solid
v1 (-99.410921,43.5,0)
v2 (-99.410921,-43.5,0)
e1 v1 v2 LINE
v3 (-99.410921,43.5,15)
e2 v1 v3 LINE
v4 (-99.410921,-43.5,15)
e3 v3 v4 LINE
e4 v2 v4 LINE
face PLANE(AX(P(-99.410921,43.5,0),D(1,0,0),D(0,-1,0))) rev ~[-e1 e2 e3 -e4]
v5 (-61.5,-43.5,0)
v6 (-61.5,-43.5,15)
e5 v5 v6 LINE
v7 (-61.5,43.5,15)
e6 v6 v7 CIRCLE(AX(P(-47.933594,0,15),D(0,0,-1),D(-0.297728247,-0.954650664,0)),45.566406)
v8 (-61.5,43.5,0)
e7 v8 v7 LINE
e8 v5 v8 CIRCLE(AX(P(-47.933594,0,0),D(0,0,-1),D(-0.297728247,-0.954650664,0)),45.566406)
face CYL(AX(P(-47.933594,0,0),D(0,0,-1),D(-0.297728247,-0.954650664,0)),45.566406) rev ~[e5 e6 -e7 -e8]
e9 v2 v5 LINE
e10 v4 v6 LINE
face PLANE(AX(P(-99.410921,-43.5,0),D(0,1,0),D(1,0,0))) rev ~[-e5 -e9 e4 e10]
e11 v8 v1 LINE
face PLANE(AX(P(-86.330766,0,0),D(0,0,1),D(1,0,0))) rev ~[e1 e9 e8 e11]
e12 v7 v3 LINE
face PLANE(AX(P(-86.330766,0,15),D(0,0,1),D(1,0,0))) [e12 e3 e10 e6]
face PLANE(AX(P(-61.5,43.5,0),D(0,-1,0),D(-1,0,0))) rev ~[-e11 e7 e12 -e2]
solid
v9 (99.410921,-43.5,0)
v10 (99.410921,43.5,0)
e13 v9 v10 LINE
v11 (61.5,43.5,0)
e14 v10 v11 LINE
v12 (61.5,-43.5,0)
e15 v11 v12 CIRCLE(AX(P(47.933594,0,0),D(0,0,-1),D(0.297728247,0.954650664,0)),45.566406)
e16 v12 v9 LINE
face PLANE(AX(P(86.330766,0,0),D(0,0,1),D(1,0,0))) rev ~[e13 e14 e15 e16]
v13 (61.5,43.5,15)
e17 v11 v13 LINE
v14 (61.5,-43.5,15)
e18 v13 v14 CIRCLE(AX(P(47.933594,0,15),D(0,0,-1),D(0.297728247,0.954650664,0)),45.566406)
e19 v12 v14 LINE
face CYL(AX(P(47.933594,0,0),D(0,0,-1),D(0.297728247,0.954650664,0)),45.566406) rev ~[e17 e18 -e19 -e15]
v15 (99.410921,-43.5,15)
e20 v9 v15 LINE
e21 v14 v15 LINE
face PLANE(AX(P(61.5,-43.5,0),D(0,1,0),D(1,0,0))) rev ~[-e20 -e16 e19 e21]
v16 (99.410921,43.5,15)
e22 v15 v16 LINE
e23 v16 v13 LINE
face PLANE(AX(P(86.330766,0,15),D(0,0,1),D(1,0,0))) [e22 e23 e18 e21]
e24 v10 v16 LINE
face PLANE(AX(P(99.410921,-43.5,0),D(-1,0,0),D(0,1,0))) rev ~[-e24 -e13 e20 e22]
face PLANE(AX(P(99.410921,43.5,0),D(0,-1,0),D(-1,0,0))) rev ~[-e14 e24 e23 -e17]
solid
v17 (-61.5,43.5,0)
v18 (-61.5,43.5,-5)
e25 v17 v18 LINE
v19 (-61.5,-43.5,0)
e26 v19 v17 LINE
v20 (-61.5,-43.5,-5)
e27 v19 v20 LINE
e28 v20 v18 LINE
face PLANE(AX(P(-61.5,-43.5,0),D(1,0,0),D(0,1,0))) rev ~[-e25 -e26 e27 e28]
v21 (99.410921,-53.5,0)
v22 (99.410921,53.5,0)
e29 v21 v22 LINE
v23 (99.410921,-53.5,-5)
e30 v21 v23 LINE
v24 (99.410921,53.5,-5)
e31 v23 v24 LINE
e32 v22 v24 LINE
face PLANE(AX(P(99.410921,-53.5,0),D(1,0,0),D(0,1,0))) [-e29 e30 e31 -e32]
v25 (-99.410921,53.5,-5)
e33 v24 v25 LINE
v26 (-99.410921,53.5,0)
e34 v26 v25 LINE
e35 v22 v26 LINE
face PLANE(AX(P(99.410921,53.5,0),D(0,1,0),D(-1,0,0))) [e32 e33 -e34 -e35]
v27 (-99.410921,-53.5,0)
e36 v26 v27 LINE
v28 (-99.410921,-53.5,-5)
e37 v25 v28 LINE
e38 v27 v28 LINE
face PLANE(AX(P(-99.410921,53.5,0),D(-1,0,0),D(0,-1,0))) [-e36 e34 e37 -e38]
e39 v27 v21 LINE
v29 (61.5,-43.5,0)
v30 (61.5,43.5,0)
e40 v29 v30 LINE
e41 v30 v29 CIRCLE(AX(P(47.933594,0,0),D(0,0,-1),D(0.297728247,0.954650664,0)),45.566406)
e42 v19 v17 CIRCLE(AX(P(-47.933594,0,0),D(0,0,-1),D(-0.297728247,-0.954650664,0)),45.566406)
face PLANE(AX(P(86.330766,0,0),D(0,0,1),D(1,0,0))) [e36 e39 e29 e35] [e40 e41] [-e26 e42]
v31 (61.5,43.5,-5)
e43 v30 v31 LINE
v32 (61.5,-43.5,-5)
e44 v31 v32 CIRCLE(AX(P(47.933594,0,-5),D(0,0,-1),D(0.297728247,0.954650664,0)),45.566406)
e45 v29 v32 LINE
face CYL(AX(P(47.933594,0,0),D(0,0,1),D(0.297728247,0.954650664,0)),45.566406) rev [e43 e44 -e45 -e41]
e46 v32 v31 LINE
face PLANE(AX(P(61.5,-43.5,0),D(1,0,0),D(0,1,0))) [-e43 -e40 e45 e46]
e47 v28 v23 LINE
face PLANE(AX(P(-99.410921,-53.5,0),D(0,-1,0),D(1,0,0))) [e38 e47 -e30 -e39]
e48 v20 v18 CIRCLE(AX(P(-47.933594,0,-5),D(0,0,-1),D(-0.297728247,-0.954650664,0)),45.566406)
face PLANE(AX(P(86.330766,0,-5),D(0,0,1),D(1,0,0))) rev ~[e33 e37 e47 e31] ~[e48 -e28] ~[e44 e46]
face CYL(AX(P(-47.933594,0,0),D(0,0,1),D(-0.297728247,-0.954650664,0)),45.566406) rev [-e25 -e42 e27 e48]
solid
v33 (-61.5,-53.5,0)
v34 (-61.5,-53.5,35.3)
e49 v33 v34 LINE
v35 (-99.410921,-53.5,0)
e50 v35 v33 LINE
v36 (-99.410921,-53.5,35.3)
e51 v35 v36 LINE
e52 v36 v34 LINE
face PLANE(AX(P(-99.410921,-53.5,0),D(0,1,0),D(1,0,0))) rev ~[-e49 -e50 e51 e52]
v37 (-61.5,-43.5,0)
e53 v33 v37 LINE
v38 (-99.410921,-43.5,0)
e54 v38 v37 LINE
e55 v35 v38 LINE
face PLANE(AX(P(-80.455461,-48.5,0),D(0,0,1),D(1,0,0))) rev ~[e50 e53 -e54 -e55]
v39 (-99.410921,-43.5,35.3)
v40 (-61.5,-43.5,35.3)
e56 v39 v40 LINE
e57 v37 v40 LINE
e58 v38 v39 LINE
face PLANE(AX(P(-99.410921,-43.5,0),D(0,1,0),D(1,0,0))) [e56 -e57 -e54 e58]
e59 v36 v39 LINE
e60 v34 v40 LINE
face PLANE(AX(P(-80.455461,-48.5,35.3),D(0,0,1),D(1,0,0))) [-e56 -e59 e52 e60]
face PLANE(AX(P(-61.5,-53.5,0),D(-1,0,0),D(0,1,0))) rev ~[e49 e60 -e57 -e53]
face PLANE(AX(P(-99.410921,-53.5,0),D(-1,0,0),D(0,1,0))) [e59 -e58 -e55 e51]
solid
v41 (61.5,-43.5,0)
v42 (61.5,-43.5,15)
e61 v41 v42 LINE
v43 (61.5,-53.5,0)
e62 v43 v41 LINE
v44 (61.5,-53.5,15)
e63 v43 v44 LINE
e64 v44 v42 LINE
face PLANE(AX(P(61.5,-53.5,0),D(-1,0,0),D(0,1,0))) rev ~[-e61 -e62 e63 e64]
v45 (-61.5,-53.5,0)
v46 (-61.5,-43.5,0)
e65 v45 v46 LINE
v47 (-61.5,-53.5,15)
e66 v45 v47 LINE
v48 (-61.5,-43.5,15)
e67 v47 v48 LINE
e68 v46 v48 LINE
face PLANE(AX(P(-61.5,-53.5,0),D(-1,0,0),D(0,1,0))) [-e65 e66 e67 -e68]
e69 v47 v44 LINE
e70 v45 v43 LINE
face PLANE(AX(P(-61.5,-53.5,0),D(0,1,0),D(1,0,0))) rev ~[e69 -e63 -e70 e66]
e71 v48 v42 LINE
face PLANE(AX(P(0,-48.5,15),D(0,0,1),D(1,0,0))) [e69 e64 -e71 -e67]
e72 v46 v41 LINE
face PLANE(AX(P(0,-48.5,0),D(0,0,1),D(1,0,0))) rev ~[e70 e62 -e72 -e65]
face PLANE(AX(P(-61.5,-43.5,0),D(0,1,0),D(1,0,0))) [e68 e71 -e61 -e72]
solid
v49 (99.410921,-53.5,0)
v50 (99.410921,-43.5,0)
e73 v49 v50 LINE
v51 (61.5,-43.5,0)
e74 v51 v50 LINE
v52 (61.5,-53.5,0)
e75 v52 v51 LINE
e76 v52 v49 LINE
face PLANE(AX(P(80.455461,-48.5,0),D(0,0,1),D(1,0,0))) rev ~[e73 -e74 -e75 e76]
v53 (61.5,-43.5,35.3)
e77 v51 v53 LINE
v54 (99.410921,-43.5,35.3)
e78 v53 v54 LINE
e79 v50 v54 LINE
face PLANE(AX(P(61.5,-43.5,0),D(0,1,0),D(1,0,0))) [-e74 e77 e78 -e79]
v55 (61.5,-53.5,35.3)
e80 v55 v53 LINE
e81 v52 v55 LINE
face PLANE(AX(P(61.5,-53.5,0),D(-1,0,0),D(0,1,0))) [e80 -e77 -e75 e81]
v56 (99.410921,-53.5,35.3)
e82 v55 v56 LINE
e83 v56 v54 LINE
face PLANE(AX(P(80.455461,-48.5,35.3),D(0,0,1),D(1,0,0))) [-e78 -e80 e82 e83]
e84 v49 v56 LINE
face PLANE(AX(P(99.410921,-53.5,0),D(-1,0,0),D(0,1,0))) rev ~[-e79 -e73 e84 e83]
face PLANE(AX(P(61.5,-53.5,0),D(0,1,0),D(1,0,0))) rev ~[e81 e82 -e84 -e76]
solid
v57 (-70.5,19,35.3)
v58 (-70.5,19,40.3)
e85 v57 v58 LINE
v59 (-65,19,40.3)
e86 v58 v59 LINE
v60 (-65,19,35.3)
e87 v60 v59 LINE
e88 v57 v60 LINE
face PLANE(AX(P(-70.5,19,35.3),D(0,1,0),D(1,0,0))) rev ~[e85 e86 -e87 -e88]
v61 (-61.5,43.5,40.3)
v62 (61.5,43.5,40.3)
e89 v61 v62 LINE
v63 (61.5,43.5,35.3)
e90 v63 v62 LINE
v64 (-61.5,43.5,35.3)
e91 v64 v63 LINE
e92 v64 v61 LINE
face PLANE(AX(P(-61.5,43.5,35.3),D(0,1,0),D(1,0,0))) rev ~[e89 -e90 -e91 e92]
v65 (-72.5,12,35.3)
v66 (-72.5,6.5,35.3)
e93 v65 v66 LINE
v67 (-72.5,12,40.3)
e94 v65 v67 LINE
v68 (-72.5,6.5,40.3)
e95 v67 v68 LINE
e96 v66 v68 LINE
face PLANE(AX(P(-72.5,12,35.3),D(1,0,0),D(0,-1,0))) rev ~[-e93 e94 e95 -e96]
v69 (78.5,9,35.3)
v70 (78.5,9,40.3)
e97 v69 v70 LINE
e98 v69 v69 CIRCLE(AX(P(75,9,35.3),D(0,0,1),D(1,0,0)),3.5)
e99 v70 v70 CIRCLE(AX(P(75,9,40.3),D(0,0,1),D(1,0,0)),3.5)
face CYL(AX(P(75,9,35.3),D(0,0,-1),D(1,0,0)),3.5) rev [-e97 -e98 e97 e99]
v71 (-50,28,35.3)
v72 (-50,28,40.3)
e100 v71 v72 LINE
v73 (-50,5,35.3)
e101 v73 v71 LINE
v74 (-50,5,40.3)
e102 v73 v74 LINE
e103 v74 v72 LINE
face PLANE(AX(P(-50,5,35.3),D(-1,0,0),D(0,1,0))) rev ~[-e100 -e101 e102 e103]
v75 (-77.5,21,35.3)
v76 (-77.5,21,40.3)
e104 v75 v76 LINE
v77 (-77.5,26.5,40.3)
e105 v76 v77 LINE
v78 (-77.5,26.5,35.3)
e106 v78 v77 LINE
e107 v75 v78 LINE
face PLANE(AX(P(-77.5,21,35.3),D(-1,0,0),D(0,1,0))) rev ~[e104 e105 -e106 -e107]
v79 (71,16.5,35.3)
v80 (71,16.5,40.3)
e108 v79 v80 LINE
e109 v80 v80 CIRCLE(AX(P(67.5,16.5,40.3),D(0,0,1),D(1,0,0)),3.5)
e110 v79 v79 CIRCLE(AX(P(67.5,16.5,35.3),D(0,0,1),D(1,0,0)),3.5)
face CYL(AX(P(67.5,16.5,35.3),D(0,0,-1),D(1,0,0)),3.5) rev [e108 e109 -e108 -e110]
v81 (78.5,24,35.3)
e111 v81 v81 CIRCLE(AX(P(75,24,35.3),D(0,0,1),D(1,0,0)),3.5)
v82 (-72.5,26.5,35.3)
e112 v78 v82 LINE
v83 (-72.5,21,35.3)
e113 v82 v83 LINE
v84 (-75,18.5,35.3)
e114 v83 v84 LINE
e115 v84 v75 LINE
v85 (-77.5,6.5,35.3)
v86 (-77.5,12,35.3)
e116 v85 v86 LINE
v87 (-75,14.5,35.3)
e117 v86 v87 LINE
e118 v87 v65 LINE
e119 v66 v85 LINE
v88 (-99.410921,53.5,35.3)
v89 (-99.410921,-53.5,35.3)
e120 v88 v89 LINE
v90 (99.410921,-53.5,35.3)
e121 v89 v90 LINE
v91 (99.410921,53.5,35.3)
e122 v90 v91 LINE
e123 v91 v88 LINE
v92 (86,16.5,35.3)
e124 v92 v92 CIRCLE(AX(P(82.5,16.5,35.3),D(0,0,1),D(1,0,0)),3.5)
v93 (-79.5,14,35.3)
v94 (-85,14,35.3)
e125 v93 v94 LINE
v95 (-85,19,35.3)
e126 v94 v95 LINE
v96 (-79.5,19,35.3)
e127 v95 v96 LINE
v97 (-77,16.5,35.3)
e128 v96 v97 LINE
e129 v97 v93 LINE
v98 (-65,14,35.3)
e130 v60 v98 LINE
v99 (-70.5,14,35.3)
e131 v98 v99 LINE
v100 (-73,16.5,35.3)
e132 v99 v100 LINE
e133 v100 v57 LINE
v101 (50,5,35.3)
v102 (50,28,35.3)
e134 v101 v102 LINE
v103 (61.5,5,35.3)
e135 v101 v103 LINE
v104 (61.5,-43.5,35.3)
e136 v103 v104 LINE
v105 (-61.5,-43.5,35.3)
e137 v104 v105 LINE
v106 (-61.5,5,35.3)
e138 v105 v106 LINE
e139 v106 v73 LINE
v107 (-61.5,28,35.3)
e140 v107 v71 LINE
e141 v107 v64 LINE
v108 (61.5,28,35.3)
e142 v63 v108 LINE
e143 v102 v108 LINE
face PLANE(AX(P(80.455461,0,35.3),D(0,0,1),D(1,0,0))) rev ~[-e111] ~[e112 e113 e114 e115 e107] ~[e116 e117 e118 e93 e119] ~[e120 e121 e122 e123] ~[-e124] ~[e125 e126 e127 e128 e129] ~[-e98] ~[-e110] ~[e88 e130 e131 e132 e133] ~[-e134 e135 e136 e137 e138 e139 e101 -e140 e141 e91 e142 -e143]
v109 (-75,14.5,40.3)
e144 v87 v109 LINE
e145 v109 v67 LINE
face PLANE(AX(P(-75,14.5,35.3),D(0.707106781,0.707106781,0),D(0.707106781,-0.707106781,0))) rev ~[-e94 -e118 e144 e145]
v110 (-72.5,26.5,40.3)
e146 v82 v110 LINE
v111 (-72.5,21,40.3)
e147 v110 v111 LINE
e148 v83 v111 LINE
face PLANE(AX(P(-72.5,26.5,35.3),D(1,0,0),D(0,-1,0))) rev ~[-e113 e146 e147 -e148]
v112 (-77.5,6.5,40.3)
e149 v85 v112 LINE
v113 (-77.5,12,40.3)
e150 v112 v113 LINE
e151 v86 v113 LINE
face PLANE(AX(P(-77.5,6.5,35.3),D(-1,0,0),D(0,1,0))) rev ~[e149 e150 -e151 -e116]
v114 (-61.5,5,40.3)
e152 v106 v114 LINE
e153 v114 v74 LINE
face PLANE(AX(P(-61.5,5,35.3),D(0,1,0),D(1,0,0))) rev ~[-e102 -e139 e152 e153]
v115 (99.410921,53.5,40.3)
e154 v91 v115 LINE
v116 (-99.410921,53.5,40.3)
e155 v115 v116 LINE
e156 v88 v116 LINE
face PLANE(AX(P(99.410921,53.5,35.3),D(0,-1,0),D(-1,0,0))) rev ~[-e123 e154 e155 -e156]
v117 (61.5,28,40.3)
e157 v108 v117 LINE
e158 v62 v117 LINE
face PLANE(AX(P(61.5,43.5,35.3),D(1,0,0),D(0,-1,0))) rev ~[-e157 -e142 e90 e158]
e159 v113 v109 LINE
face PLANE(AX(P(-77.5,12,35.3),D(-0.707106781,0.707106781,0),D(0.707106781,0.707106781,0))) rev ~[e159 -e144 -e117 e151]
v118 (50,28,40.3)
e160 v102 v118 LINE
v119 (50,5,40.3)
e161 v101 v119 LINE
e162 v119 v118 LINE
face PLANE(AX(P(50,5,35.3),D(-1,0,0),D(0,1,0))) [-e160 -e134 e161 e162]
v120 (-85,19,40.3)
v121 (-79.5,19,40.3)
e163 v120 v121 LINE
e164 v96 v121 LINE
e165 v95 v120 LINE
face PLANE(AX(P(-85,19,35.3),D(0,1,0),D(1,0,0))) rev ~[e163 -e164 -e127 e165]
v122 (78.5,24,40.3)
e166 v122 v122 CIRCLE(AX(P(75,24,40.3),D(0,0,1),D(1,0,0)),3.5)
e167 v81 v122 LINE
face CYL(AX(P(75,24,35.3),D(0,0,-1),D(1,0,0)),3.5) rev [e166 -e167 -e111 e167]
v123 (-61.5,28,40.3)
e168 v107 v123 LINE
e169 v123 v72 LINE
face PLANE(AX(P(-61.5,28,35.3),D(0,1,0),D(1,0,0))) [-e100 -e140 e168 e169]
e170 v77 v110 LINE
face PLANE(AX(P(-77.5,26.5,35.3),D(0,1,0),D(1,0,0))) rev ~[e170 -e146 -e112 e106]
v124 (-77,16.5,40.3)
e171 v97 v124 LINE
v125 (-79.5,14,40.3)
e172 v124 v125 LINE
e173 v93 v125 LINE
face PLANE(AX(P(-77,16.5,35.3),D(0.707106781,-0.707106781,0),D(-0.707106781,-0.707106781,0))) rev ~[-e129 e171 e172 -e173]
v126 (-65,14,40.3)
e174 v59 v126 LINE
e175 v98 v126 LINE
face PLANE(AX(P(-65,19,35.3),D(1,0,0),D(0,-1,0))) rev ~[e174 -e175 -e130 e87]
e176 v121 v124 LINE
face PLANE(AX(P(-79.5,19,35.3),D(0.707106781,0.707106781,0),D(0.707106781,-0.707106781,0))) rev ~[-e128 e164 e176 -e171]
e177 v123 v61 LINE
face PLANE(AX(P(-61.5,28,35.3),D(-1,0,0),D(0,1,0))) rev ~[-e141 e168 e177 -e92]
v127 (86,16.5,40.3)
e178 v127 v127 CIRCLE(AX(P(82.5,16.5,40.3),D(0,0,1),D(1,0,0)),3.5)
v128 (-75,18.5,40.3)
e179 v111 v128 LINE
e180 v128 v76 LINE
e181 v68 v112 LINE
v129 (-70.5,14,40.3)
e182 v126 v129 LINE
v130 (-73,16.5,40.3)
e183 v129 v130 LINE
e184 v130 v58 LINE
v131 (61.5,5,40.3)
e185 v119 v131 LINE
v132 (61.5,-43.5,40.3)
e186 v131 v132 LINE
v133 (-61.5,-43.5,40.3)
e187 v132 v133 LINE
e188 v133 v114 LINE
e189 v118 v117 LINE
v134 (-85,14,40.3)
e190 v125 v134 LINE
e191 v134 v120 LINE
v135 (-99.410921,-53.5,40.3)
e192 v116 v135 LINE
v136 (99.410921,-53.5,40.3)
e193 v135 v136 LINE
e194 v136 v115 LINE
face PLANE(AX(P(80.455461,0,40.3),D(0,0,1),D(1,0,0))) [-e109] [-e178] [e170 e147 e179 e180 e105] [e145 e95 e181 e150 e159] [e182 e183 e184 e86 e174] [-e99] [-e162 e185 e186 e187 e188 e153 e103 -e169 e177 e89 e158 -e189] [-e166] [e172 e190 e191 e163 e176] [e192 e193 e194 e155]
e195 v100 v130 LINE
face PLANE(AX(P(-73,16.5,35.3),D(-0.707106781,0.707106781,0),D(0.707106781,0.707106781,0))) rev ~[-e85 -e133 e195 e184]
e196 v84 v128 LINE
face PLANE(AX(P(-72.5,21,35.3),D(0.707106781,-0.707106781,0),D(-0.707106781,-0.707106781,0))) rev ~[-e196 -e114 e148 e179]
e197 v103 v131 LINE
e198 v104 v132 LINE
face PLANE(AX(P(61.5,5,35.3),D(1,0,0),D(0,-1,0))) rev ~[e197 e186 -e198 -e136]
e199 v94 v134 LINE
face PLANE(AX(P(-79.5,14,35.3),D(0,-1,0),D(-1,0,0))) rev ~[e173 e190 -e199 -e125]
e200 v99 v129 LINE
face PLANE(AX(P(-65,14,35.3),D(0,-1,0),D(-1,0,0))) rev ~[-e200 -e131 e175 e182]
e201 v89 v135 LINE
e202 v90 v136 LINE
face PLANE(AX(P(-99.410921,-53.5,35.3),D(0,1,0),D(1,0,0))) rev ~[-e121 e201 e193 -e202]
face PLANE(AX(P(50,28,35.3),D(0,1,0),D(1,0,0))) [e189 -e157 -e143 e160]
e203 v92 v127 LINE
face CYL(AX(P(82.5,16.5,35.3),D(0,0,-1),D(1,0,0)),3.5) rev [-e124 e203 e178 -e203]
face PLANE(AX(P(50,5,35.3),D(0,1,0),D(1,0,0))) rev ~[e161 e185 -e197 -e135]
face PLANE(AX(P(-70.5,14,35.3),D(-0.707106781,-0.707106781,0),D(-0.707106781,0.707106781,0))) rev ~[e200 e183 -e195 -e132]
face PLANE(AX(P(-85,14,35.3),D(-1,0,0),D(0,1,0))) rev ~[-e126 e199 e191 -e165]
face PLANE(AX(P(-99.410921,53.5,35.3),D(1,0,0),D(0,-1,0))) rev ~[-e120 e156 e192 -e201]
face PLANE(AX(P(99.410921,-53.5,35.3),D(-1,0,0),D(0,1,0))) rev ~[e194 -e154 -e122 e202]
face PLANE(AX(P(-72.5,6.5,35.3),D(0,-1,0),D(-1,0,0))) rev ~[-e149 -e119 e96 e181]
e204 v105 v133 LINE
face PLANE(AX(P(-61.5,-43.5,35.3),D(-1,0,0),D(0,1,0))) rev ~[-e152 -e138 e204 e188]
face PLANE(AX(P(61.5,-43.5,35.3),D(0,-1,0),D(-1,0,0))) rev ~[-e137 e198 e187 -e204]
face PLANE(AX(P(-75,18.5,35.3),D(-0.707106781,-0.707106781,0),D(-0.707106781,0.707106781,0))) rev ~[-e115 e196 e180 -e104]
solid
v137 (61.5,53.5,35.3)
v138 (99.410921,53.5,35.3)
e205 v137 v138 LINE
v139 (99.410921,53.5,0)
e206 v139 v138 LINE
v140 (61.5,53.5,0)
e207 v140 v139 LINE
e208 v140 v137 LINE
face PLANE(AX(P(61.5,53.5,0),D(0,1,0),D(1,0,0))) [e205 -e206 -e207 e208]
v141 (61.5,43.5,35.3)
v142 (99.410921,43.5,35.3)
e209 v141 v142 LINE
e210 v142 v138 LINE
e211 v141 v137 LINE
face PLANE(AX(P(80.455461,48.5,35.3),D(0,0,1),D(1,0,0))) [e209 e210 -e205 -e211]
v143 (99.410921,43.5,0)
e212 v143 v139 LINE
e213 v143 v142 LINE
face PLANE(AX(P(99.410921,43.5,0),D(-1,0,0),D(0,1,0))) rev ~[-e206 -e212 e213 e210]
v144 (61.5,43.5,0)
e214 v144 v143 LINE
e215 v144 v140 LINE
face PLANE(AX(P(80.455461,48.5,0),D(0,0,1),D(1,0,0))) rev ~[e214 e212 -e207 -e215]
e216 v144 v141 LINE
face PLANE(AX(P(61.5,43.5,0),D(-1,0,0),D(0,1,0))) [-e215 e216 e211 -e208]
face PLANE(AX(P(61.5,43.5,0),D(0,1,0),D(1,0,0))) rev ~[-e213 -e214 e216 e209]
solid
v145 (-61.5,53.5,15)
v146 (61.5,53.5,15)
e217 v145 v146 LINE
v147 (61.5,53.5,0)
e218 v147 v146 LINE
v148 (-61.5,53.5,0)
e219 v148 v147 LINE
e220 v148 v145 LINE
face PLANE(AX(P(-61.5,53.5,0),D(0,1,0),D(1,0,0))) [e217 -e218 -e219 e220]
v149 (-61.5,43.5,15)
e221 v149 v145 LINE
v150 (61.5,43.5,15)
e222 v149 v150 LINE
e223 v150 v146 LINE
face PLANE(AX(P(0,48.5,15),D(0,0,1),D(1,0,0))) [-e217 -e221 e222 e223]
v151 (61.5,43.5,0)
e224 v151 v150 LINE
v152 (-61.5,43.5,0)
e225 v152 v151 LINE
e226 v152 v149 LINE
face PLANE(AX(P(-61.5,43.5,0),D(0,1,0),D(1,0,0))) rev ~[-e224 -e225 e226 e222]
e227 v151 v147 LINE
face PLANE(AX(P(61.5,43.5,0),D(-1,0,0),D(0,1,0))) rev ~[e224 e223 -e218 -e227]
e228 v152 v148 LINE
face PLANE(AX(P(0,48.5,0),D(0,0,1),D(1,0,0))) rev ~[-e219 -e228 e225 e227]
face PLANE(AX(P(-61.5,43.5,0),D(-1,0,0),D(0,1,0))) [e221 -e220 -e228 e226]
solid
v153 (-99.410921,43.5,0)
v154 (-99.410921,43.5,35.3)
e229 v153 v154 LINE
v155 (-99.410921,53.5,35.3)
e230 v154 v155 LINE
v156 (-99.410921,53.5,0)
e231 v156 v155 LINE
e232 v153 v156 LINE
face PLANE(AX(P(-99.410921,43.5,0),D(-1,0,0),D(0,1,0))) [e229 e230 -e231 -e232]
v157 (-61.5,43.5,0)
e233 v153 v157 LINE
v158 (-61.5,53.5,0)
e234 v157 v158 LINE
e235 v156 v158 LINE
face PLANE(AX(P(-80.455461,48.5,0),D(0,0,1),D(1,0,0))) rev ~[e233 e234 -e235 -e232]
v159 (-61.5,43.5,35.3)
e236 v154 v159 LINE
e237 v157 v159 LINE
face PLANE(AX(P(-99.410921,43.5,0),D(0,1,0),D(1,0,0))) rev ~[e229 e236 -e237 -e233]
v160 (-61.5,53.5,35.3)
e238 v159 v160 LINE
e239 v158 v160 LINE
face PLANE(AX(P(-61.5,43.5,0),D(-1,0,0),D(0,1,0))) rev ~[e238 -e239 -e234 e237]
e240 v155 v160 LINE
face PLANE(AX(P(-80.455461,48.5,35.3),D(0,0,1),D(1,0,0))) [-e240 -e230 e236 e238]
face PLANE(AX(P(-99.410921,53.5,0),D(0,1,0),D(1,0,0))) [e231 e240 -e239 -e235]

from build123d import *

# Parameters (mm, degrees)
F0_W     = 37.9109213352
F0_H     = 10
F1_DEPTH = 35.3
F3_DEPTH = 15
F0_W_2   = 123
F2_R     = 11.5
F2_R_2   = 3.5
F2_W     = 11.5
F2_H     = 23
F4_DEPTH = 5
F0_H_2   = 87
F5_DEPTH = 5


with BuildPart() as f1:
    # F0 (on Top) → F1 (new body)
    with BuildSketch(Plane.XY):
        with Locations((-80.4554606676, -48.5)):
            Rectangle(F0_W, F0_H)
    extrude(amount=F1_DEPTH)


with BuildPart() as f1b:
    # F0 (on Top) → F1, piece 2 (new body)
    with BuildSketch(Plane.XY):
        with Locations((-80.4554606676, 48.5)):
            Rectangle(F0_W, F0_H)
    extrude(amount=F1_DEPTH)


with BuildPart() as f1c:
    # F0 (on Top) → F1, piece 3 (new body)
    with BuildSketch(Plane.XY):
        with Locations((80.4554606676, 48.5)):
            Rectangle(F0_W, F0_H)
    extrude(amount=F1_DEPTH)


with BuildPart() as f1d:
    # F0 (on Top) → F1, piece 4 (new body)
    with BuildSketch(Plane.XY):
        with Locations((80.4554606676, -48.5)):
            Rectangle(F0_W, F0_H)
    extrude(amount=F1_DEPTH)


with BuildPart() as f3:
    # F0 (on Top) → F3 (new body)
    with BuildSketch(Plane.XY):
        with BuildLine():
            ThreePointArc((-61.5, -43.5), (-93.5, 0), (-61.5, 43.5))
            Line((-61.5, 43.5), (-99.4109213352, 43.5))
            Line((-99.4109213352, 43.5), (-99.4109213352, -43.5))
            Line((-99.4109213352, -43.5), (-61.5, -43.5))
        make_face()
    extrude(amount=F3_DEPTH)


with BuildPart() as f3b:
    # F0 (on Top) → F3, piece 2 (new body)
    with BuildSketch(Plane.XY):
        with Locations((0, 48.5)):
            Rectangle(F0_W_2, F0_H)
    extrude(amount=F3_DEPTH)


with BuildPart() as f3c:
    # F0 (on Top) → F3, piece 3 (new body)
    with BuildSketch(Plane.XY):
        with Locations((0, -48.5)):
            Rectangle(F0_W_2, F0_H)
    extrude(amount=F3_DEPTH)


with BuildPart() as f3d:
    # F0 (on Top) → F3, piece 4 (new body)
    with BuildSketch(Plane.XY):
        with BuildLine():
            Line((99.4109213352, 43.5), (61.5, 43.5))
            ThreePointArc((61.5, 43.5), (93.5, 0), (61.5, -43.5))
            Line((61.5, -43.5), (99.4109213352, -43.5))
            Line((99.4109213352, -43.5), (99.4109213352, 43.5))
        make_face()
    extrude(amount=F3_DEPTH)


with BuildPart() as f4:
    # F2 (on face) → F4 (new body)
    with BuildSketch(Plane.XY.offset(35.3)):
        Polygon((99.4109213352, 43.5), (61.5, 43.5), (61.5, 28), (61.5, 5), (61.5, -43.5), (99.4109213352, -43.5), align=None)
        with Locations((75, 16.5)):
            Circle(F2_R, mode=Mode.SUBTRACT)
        Polygon((-61.5, 43.5), (61.5, 43.5), (99.4109213352, 43.5), (99.4109213352, 53.5), (-99.4109213352, 53.5), (-99.4109213352, 43.5), align=None)
        Polygon((-61.5, 28), (-61.5, 43.5), (-99.4109213352, 43.5), (-99.4109213352, -43.5), (-61.5, -43.5), (-61.5, 5), align=None)
        with Locations((-75, 16.5)):
            Circle(F2_R, mode=Mode.SUBTRACT)
        Polygon((99.4109213352, -53.5), (99.4109213352, -43.5), (61.5, -43.5), (-61.5, -43.5), (-99.4109213352, -43.5), (-99.4109213352, -53.5), align=None)
        with Locations((-75, 16.5)):
            Circle(F2_R)
        Polygon((-75, 14.5), (-72.5, 12), (-72.5, 6.5), (-77.5, 6.5), (-77.5, 12), align=None, mode=Mode.SUBTRACT)
        Polygon((-79.5, 14), (-85, 14), (-85, 19), (-79.5, 19), (-77, 16.5), align=None, mode=Mode.SUBTRACT)
        Polygon((-75, 18.5), (-77.5, 21), (-77.5, 26.5), (-72.5, 26.5), (-72.5, 21), align=None, mode=Mode.SUBTRACT)
        Polygon((-65, 14), (-70.5, 14), (-73, 16.5), (-70.5, 19), (-65, 19), align=None, mode=Mode.SUBTRACT)
        with Locations((75, 16.5)):
            Circle(F2_R)
        with Locations((75, 9)):
            Circle(F2_R_2, mode=Mode.SUBTRACT)
        with Locations((67.5, 16.5)):
            Circle(F2_R_2, mode=Mode.SUBTRACT)
        with Locations((82.5, 16.5)):
            Circle(F2_R_2, mode=Mode.SUBTRACT)
        with Locations((75, 24)):
            Circle(F2_R_2, mode=Mode.SUBTRACT)
        with Locations((-55.75, 16.5)):
            Rectangle(F2_W, F2_H)
        with Locations((55.75, 16.5)):
            Rectangle(F2_W, F2_H)
    extrude(amount=F4_DEPTH)


with BuildPart() as f5:
    # F0 (on Top) → F5 (new body)
    with BuildSketch(Plane.XY):
        with BuildLine():
            Line((99.4109213352, 43.5), (61.5, 43.5))
            ThreePointArc((61.5, 43.5), (93.5, 0), (61.5, -43.5))
            Line((61.5, -43.5), (99.4109213352, -43.5))
            Line((99.4109213352, -43.5), (99.4109213352, 43.5))
        make_face()
        with Locations((80.4554606676, 48.5)):
            Rectangle(F0_W, F0_H)
        with Locations((0, 48.5)):
            Rectangle(F0_W_2, F0_H)
        with BuildLine():
            ThreePointArc((-61.5, -43.5), (-93.5, 0), (-61.5, 43.5))
            Line((-61.5, 43.5), (-99.4109213352, 43.5))
            Line((-99.4109213352, 43.5), (-99.4109213352, -43.5))
            Line((-99.4109213352, -43.5), (-61.5, -43.5))
        make_face()
        with Locations((-80.4554606676, 48.5)):
            Rectangle(F0_W, F0_H)
        with Locations((0, -48.5)):
            Rectangle(F0_W_2, F0_H)
        with Locations((80.4554606676, -48.5)):
            Rectangle(F0_W, F0_H)
        with Locations((-80.4554606676, -48.5)):
            Rectangle(F0_W, F0_H)
        Rectangle(F0_W_2, F0_H_2)
    extrude(amount=-F5_DEPTH)


solid = Compound([f1.part, f1b.part, f1c.part, f1d.part, f3.part, f3b.part, f3c.part, f3d.part, f4.part, f5.part])
